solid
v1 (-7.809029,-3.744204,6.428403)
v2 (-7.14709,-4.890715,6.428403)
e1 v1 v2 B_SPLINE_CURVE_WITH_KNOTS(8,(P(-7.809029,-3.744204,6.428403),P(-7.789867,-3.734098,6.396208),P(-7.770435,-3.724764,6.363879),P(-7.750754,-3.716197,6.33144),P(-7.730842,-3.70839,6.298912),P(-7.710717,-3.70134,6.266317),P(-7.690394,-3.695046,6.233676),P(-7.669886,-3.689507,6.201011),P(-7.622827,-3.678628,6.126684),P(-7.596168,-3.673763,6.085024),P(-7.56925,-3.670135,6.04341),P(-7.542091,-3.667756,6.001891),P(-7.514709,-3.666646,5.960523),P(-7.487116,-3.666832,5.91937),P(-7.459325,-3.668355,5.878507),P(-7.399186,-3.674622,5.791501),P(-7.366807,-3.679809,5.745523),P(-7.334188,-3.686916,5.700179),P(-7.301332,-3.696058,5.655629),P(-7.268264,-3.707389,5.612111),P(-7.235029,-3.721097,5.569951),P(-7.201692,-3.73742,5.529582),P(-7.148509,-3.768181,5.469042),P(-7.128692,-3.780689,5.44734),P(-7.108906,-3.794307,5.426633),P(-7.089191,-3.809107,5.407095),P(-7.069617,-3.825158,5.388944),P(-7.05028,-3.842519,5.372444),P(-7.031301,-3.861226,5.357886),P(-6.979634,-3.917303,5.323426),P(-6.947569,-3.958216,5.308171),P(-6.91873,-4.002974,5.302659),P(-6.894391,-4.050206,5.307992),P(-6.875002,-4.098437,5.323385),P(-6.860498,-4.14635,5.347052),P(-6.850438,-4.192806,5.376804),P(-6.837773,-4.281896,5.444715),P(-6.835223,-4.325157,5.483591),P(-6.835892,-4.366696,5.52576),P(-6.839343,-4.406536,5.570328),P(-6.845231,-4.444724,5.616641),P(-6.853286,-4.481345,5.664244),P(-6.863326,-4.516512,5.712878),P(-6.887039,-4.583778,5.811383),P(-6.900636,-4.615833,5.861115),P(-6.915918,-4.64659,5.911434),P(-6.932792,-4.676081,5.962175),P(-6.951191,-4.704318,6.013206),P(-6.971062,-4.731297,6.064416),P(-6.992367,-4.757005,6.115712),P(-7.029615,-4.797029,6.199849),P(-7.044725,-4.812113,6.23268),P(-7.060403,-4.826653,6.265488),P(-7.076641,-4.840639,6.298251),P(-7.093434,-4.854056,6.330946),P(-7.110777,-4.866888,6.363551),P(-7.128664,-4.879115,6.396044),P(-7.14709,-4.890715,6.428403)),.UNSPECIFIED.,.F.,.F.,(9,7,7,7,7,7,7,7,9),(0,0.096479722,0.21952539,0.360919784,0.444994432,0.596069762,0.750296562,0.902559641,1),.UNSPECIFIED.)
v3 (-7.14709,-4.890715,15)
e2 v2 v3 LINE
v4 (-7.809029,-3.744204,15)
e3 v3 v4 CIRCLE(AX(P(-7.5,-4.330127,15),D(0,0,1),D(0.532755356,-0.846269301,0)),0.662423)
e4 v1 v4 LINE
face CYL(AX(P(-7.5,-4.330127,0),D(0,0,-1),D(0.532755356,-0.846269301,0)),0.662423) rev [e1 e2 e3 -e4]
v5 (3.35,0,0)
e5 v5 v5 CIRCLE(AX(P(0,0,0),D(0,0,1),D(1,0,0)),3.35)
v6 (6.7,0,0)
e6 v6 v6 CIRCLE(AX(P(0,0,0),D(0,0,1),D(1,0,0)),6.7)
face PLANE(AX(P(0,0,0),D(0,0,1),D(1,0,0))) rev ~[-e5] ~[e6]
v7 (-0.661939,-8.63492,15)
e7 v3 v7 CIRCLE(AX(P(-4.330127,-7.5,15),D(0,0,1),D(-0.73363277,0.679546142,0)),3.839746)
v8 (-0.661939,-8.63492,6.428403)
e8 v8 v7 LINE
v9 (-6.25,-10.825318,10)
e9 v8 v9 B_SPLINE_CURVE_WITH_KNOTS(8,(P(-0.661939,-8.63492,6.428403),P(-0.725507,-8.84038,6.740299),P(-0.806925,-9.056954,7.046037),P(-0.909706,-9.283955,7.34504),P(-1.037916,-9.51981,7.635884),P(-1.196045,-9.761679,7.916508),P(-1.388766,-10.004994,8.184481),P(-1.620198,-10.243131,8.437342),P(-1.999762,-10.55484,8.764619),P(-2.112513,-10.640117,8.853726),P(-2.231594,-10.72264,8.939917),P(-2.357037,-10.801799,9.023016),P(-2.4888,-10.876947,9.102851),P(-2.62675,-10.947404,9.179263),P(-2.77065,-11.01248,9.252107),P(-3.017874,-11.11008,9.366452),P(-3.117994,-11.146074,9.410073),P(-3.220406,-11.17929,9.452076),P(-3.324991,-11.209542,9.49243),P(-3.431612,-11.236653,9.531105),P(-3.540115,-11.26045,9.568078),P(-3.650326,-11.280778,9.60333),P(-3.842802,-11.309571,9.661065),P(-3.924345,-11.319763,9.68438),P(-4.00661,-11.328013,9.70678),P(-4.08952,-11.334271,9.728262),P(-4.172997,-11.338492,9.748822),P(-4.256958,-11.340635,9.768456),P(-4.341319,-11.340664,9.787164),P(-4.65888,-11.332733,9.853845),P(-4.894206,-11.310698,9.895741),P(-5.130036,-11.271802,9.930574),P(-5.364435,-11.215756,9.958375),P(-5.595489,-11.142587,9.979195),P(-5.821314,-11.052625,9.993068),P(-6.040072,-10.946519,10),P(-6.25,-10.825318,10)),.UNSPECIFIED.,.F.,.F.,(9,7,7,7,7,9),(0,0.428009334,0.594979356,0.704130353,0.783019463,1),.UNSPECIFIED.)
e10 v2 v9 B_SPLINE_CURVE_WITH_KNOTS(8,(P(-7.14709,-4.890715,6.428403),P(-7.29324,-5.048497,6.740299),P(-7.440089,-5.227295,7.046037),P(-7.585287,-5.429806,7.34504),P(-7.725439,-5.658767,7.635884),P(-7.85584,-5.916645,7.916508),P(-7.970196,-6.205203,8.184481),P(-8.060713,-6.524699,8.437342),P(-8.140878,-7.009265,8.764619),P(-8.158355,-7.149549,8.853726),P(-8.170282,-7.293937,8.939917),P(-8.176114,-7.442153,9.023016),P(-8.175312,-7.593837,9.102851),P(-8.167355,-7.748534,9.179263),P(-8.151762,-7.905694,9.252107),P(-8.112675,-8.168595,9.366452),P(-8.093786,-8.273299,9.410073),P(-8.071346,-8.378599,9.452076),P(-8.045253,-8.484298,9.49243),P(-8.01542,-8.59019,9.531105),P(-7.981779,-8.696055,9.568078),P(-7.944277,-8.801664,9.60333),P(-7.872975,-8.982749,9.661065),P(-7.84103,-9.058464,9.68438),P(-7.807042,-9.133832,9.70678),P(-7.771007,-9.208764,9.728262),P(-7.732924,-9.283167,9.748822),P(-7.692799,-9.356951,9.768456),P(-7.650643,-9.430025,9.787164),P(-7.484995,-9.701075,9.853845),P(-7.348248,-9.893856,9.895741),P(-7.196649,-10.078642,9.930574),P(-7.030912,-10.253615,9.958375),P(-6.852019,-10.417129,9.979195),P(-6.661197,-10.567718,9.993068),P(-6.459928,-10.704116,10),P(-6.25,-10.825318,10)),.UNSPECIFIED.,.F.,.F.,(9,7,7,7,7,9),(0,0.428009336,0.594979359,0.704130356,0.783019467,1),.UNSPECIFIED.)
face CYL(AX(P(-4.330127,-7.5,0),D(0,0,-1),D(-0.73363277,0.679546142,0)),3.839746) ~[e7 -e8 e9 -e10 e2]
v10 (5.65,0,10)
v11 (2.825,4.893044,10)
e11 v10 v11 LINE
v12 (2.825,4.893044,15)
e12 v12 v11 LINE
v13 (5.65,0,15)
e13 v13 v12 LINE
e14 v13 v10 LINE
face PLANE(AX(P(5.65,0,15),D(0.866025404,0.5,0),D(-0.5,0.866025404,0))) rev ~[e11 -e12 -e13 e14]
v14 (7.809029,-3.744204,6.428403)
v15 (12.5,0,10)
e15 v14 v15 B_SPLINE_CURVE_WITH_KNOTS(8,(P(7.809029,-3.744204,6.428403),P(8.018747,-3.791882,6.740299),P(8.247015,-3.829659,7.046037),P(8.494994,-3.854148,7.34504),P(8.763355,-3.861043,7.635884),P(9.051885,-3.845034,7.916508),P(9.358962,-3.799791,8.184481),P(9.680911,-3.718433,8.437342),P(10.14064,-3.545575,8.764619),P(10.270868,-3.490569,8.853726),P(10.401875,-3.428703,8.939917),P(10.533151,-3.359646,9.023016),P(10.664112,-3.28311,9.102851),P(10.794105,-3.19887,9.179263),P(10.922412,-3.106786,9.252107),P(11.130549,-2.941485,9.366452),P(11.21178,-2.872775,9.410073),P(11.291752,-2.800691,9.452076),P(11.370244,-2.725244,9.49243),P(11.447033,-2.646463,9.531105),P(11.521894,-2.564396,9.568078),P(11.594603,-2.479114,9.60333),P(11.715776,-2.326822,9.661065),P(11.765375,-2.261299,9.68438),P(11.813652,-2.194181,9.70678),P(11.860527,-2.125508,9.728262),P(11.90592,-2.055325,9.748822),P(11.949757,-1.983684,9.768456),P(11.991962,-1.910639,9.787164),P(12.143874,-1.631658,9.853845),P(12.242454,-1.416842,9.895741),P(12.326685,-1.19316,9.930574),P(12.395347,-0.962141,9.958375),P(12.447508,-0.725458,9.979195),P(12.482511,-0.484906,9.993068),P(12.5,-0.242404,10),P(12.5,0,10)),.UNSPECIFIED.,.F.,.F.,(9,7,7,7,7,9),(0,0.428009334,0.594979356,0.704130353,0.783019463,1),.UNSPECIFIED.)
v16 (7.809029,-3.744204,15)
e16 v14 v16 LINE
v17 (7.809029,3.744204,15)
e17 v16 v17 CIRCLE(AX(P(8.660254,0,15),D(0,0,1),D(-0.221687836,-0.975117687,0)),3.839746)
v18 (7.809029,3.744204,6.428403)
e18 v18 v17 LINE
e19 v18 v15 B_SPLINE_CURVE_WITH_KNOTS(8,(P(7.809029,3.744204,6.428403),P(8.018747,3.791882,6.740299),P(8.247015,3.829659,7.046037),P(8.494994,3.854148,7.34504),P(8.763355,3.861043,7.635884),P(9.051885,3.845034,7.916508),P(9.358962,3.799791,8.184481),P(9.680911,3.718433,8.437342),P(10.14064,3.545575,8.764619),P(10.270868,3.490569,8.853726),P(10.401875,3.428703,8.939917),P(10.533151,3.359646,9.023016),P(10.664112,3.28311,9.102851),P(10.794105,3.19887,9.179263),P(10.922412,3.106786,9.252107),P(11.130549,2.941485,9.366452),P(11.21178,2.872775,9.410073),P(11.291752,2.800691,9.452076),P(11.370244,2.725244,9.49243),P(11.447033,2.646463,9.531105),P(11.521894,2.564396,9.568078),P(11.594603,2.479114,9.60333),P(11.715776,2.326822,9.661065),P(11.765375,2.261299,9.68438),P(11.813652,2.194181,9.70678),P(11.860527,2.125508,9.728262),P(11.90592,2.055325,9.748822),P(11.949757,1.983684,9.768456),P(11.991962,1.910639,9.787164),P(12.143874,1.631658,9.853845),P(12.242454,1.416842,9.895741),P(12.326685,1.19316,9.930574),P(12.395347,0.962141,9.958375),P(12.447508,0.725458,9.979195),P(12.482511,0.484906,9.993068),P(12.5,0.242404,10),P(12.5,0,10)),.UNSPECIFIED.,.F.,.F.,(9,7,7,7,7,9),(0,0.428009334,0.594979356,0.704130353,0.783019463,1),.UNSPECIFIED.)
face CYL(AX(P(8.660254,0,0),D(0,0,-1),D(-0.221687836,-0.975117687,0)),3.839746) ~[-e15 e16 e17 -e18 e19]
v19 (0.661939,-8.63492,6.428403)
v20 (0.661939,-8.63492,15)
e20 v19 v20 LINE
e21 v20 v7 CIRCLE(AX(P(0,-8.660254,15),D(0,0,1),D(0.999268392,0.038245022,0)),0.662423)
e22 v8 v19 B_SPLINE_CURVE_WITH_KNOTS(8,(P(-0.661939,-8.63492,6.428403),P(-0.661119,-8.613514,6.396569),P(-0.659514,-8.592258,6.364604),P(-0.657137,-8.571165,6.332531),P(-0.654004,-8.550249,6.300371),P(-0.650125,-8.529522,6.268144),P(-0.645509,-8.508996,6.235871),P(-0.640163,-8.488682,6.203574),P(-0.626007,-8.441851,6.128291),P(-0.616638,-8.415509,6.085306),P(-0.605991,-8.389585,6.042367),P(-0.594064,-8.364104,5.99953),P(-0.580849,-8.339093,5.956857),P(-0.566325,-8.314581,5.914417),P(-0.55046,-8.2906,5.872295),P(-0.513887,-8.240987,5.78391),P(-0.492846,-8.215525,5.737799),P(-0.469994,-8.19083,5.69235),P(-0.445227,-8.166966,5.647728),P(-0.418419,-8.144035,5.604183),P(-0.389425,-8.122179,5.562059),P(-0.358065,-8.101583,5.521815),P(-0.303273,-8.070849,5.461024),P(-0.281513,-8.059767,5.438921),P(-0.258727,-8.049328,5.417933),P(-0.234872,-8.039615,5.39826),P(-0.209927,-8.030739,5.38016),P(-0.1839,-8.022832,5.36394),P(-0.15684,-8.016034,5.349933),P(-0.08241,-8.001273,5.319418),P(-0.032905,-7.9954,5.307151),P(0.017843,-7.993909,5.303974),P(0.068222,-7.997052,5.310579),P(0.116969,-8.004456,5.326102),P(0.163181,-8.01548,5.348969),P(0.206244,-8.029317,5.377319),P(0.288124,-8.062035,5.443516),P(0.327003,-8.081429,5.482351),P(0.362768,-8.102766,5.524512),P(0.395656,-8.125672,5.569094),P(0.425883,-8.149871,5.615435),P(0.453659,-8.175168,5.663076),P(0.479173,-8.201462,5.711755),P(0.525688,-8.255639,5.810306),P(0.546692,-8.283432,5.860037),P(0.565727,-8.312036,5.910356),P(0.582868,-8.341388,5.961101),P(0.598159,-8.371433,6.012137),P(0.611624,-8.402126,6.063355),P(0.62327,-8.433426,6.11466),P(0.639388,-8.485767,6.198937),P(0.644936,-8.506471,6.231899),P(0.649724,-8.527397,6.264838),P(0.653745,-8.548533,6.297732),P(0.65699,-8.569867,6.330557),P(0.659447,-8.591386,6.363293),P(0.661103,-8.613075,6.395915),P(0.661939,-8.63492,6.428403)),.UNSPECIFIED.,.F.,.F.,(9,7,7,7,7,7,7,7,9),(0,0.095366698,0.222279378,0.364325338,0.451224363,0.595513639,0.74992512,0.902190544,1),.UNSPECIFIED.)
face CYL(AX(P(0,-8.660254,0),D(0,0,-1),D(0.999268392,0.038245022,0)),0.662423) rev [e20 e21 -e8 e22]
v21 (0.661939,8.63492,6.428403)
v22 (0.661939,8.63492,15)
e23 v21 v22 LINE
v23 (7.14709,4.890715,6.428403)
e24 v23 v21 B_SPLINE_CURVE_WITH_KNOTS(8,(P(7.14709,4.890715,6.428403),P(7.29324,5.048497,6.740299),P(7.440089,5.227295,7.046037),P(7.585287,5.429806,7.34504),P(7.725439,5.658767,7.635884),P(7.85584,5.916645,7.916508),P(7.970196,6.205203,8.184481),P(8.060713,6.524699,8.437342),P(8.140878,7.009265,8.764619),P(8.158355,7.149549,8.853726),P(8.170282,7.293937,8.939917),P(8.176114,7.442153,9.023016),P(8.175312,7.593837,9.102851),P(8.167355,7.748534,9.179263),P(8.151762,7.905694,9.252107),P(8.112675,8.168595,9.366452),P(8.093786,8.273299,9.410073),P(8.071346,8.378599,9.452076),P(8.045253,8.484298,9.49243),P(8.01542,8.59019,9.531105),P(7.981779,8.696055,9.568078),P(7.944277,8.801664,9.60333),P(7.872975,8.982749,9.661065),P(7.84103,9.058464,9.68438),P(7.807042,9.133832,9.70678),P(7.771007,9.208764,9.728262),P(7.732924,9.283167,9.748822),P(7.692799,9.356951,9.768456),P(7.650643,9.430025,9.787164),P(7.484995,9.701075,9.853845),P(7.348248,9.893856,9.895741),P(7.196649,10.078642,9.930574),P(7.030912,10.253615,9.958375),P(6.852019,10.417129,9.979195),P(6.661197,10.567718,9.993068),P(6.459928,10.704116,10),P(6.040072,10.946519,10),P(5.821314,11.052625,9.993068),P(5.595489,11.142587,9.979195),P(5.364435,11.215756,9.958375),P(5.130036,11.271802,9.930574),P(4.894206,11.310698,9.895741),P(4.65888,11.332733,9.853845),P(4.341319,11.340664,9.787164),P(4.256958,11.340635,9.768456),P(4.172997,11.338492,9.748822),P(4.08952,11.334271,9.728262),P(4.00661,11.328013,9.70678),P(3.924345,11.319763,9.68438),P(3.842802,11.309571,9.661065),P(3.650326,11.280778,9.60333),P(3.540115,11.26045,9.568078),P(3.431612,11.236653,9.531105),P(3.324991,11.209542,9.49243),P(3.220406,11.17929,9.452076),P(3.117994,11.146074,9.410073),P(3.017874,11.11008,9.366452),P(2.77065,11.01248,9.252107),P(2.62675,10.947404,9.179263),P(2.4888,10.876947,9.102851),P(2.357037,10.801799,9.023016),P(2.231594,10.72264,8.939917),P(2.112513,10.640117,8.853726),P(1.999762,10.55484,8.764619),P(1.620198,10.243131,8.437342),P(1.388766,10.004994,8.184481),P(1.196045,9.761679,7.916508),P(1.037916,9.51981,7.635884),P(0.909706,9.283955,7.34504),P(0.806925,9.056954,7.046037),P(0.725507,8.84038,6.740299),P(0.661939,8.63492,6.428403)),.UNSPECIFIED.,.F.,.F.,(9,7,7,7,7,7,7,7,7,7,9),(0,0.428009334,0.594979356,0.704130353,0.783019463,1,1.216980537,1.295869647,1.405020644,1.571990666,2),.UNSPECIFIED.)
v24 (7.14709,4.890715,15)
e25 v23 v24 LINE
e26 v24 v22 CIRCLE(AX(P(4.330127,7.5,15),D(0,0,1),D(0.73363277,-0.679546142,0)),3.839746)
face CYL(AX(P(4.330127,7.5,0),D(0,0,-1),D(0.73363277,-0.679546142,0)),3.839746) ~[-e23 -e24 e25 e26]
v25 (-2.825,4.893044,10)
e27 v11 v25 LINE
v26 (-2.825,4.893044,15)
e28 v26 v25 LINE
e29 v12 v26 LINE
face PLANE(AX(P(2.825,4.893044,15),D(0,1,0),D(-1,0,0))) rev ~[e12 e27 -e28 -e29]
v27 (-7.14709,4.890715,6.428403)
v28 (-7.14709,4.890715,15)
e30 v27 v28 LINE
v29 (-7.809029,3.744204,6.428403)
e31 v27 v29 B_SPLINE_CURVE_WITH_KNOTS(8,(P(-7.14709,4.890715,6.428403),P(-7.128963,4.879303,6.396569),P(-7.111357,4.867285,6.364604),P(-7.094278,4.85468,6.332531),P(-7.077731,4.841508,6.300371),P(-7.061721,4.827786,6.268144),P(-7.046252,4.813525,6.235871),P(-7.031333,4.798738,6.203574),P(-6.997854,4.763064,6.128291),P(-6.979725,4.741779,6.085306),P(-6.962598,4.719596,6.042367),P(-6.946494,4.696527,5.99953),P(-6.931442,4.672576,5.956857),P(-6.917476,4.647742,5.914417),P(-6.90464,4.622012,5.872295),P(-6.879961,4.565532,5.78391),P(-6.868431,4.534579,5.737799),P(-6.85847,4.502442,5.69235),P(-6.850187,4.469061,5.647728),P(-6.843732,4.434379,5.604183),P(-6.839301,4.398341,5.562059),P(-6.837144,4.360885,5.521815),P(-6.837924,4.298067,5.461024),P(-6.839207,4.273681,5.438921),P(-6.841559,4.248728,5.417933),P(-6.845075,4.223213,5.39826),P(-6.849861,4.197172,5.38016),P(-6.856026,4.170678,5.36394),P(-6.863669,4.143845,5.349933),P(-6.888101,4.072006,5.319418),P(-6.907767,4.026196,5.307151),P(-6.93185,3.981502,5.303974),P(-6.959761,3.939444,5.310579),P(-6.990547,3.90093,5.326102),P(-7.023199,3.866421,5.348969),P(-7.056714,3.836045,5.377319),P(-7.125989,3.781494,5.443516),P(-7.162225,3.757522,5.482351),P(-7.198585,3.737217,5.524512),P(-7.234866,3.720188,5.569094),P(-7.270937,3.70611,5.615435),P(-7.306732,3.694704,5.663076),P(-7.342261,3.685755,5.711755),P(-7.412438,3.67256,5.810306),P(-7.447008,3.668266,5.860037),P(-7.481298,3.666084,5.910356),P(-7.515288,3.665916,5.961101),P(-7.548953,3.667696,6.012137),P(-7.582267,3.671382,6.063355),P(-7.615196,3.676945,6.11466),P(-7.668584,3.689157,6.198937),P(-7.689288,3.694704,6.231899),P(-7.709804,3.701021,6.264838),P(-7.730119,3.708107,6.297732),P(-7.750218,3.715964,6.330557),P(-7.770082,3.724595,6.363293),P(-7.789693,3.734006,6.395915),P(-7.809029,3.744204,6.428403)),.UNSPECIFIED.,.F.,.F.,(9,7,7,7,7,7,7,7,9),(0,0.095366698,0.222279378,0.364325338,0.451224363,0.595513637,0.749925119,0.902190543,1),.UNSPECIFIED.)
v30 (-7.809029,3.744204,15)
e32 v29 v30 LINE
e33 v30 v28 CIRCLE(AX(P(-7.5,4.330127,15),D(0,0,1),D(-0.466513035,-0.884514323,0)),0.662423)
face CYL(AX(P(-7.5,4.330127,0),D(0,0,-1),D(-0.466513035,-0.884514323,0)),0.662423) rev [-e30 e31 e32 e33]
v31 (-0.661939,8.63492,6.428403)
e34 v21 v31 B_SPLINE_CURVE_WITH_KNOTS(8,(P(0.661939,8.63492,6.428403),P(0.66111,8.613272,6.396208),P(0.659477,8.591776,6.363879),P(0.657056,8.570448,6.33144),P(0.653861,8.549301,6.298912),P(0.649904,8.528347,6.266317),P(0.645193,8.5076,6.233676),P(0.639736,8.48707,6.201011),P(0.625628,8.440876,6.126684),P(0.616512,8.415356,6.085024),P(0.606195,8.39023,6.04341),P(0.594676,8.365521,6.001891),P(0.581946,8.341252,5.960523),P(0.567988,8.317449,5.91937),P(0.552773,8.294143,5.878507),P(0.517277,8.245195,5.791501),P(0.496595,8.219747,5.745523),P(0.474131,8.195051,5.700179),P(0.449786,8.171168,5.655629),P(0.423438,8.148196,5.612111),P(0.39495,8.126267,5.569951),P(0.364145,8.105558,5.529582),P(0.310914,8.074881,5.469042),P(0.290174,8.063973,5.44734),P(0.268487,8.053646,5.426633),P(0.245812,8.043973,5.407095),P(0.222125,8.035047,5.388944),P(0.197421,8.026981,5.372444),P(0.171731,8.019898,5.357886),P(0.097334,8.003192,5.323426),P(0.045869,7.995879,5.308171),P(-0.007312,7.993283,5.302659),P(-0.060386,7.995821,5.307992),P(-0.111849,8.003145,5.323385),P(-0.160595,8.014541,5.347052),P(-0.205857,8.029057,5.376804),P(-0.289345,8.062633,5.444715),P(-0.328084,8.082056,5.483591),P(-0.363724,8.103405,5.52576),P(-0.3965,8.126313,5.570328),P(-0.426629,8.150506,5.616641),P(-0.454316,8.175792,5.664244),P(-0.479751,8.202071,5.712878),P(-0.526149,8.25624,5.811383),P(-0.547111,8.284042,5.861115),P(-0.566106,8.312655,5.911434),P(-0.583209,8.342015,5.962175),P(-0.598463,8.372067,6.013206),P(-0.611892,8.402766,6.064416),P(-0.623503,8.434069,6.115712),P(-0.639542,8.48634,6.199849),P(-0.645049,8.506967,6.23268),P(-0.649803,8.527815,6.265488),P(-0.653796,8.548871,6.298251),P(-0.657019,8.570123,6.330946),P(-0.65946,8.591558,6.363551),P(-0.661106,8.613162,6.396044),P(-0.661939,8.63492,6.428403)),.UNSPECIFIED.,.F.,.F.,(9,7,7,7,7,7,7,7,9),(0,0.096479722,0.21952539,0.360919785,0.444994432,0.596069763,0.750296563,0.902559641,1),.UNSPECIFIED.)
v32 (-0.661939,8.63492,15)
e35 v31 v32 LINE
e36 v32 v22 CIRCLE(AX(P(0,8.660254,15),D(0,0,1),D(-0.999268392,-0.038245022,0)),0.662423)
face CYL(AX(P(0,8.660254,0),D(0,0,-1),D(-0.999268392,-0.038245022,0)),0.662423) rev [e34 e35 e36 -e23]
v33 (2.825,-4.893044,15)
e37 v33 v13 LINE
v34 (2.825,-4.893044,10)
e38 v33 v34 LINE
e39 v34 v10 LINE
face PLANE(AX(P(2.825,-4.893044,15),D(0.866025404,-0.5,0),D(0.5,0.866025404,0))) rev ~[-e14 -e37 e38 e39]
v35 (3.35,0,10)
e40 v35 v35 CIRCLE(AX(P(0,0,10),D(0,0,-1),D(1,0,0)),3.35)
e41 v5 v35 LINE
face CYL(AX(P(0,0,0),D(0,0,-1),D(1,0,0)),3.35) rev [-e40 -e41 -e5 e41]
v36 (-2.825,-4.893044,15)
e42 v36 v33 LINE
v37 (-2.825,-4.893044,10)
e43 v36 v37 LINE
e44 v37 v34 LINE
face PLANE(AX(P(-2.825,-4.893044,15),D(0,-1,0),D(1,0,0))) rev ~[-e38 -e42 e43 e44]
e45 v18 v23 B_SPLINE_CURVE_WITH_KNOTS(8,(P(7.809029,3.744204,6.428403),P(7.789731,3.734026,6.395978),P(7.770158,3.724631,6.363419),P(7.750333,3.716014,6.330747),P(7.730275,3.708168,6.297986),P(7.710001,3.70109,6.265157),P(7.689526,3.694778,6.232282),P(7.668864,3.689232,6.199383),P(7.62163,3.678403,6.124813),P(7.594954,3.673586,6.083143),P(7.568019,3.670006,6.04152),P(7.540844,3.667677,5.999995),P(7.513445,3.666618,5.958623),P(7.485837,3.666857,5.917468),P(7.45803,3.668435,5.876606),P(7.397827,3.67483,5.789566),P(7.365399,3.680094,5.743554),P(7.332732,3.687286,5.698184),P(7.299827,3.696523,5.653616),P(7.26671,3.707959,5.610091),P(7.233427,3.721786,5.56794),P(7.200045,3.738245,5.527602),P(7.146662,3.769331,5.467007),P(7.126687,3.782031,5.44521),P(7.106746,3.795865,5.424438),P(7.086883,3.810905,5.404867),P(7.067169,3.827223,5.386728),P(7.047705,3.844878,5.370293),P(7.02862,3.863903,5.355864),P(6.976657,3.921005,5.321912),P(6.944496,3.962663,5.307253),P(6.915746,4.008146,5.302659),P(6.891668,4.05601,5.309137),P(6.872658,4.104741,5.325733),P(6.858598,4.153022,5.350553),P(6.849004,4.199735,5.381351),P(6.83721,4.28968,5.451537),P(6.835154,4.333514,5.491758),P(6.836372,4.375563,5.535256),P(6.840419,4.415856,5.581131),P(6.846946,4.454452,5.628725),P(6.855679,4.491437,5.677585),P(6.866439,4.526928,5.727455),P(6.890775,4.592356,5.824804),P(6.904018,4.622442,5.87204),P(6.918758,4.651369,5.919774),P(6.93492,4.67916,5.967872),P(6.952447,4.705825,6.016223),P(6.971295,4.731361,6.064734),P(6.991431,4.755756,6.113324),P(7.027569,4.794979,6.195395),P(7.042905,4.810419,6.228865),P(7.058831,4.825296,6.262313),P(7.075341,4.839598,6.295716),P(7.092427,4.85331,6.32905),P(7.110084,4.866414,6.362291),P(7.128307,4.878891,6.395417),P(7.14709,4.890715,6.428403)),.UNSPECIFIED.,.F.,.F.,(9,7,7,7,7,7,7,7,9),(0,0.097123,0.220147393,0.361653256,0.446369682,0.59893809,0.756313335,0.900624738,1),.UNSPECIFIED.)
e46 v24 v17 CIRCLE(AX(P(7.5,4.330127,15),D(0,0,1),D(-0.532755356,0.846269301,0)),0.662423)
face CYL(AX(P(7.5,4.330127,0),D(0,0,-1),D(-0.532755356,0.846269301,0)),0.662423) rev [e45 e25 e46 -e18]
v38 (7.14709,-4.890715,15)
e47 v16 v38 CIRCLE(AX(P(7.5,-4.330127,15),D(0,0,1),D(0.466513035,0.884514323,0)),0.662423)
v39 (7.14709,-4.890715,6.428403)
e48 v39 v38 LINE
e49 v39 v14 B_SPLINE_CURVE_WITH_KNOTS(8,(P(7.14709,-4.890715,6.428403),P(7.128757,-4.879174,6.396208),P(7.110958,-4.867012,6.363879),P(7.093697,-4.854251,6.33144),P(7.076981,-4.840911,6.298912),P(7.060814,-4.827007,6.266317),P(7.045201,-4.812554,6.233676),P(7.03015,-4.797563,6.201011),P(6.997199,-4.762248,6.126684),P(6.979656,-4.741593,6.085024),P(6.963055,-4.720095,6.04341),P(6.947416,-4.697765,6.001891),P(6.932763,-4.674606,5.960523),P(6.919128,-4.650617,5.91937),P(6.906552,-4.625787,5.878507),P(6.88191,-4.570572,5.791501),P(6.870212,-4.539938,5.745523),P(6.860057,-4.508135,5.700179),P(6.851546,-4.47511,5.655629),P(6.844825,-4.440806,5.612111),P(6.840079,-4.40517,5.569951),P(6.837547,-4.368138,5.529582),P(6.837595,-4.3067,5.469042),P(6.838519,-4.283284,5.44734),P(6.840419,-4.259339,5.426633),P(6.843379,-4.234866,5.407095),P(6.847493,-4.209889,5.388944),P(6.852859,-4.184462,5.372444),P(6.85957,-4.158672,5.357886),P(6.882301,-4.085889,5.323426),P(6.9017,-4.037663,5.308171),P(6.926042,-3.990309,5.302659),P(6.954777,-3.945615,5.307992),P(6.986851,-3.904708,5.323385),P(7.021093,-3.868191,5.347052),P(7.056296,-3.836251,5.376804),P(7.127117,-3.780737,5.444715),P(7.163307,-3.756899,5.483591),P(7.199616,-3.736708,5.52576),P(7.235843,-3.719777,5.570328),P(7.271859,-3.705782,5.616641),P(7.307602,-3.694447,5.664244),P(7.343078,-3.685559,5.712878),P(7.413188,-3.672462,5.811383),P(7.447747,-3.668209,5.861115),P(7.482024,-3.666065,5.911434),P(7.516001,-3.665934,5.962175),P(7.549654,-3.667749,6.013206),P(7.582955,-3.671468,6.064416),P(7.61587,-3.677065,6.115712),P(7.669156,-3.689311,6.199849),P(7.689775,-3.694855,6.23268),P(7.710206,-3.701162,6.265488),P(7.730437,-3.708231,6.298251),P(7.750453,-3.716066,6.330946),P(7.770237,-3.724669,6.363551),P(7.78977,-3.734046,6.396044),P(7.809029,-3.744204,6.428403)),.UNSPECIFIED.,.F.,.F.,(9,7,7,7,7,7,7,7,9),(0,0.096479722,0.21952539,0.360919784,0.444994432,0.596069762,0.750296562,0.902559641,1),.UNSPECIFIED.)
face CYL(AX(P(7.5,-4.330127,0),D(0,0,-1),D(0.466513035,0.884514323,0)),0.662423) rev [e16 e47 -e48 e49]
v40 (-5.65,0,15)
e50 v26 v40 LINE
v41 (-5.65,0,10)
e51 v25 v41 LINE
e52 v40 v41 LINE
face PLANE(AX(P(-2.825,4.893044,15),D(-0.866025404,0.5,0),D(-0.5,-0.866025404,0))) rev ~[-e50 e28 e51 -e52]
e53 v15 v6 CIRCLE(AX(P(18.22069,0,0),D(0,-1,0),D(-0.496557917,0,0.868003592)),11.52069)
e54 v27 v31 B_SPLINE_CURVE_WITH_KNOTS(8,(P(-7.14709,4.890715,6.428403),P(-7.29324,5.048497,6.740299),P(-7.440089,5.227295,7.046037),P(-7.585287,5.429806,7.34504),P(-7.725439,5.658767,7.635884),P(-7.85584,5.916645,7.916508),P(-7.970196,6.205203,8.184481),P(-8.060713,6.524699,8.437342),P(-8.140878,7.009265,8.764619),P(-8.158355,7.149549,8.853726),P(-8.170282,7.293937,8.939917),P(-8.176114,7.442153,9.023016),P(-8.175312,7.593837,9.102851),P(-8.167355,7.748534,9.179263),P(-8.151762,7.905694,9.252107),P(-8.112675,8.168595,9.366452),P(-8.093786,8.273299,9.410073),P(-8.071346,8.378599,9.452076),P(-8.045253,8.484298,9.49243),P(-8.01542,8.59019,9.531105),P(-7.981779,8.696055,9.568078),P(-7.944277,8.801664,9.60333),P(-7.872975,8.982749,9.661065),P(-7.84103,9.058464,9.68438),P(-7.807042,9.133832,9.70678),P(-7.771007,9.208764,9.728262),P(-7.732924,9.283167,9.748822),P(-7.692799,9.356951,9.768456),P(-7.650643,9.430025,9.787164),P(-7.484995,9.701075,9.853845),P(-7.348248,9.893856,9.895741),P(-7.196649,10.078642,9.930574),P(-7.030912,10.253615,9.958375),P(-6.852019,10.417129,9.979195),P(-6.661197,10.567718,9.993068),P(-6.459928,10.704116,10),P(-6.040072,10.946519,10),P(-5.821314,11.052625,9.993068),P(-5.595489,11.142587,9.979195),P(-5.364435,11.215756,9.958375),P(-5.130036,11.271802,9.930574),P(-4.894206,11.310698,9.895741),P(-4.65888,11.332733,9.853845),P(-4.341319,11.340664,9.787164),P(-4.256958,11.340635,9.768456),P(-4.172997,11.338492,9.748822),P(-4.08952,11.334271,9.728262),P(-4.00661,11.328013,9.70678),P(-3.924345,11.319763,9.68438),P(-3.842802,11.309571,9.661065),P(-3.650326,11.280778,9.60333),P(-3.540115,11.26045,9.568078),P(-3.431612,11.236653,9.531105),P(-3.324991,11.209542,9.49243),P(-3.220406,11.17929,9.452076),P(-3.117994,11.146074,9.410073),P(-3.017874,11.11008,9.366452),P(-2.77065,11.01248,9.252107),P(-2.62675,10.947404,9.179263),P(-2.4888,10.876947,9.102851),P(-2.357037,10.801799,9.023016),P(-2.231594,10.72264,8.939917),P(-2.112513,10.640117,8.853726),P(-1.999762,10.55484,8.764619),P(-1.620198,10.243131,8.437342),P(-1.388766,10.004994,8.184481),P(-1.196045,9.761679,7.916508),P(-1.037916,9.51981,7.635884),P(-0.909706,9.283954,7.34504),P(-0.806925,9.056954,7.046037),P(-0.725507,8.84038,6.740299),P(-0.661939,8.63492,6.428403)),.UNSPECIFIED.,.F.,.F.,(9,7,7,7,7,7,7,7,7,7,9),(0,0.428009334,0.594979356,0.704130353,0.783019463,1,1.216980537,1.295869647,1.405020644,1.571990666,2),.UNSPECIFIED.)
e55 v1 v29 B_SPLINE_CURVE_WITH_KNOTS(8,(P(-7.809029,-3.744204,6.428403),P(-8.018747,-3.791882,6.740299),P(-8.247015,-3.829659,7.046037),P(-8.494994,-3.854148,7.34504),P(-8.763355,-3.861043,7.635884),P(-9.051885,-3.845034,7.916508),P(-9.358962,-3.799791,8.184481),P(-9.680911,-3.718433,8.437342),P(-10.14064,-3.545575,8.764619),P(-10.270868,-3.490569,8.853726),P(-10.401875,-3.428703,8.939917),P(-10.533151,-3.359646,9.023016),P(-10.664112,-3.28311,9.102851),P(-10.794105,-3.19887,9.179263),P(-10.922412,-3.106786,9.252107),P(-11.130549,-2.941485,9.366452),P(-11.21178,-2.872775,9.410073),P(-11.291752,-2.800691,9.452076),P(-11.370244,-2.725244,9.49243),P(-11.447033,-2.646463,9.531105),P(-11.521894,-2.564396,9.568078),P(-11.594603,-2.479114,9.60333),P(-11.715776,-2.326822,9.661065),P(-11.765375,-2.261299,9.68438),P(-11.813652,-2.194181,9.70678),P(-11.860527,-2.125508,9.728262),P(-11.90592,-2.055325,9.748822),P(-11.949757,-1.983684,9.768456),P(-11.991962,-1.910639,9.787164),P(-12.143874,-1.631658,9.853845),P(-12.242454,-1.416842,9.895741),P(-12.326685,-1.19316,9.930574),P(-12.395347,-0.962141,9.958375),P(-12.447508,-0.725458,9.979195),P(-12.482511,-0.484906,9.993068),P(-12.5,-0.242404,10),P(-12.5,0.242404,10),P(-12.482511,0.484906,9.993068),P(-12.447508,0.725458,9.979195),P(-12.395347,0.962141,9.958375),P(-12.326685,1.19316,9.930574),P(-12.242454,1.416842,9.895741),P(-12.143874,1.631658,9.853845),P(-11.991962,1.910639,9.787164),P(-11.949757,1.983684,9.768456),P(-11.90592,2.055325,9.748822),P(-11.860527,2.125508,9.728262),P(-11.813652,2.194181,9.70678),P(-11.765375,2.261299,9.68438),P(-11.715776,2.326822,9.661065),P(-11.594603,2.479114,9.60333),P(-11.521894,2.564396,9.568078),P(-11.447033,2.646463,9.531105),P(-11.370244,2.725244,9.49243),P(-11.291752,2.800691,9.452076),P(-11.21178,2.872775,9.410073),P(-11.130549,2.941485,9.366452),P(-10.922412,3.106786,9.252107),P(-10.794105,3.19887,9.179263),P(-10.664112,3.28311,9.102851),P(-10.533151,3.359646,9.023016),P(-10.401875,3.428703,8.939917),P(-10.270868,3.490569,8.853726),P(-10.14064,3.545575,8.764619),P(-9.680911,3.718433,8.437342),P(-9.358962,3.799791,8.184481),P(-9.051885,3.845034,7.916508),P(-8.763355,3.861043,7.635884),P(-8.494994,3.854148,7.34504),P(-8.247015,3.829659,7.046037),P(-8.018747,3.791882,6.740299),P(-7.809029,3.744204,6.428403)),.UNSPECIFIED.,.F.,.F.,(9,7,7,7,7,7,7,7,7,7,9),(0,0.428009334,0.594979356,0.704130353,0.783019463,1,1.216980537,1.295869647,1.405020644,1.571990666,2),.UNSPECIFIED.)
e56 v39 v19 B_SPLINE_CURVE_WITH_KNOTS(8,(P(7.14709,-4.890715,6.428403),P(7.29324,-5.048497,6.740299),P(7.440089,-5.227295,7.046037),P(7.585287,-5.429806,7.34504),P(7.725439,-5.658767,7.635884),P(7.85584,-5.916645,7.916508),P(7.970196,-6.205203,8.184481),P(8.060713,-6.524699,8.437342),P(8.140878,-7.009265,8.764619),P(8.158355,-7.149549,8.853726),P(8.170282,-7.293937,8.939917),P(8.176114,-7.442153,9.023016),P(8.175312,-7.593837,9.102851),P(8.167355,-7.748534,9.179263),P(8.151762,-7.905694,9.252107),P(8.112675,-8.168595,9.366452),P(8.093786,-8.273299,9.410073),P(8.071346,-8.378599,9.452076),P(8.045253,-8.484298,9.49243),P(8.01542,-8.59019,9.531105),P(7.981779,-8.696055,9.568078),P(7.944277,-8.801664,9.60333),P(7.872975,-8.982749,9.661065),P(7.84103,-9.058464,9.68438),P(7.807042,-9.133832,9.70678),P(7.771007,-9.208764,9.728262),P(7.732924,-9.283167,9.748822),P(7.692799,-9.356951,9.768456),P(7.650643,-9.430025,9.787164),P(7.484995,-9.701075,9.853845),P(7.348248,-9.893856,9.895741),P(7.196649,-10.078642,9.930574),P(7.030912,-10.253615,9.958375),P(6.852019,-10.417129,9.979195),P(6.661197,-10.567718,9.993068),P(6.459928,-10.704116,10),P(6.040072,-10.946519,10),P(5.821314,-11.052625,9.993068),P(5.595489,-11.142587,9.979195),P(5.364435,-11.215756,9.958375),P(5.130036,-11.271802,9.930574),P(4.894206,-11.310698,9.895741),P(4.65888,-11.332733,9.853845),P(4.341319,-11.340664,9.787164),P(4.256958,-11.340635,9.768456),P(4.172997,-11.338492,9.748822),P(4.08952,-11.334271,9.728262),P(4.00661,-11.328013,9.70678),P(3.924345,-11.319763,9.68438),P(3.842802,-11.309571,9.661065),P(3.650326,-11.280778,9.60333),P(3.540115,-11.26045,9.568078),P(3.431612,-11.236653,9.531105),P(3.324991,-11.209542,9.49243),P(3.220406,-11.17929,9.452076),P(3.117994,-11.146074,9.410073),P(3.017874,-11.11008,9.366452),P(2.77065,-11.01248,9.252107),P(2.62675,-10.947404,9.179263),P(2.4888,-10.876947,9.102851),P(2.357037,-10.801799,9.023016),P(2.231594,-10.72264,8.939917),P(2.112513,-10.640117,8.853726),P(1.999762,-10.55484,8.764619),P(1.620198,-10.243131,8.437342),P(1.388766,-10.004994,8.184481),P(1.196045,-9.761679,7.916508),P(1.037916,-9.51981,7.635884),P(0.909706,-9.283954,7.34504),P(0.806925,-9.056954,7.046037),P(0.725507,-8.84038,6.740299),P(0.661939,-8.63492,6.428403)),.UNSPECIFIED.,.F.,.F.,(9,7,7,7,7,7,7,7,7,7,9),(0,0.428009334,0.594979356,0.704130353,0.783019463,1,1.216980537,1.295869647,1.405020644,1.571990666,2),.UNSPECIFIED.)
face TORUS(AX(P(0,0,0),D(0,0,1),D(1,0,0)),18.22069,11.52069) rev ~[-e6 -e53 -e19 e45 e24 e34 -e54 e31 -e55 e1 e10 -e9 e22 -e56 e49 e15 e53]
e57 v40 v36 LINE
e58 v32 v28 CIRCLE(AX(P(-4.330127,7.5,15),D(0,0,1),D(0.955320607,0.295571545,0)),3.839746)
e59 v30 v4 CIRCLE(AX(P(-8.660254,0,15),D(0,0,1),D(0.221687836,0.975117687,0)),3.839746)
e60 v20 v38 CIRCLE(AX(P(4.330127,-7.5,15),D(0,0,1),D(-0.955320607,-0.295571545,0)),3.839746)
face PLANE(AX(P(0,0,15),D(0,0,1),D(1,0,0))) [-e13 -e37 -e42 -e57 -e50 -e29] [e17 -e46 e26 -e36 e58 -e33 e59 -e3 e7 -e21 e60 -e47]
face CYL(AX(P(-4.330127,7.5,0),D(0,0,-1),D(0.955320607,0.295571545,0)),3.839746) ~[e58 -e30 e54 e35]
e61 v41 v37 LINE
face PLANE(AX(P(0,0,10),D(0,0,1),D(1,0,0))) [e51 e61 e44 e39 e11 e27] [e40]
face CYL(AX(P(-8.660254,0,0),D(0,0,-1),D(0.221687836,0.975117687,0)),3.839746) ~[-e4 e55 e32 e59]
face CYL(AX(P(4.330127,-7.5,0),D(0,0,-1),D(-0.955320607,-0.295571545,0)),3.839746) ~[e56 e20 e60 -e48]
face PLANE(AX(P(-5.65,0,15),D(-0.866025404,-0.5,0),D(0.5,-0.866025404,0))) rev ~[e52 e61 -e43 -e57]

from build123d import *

# Parameters (mm, degrees)
SKETCH008_R     = 3.35
PAD004_DEPTH    = 15
POCKET002_DEPTH = 5


with BuildPart() as part:
    # Sketch008 → Pad004 (new body)
    with BuildSketch(Plane.XY):
        with BuildLine():
            ThreePointArc((7.1470904861, 4.890715447), (6.25, 10.8253175473), (0.6619385767, 8.6349196476))
            ThreePointArc((-0.6619385767, 8.6349196476), (0, 7.9978308267), (0.6619385767, 8.6349196476))
            ThreePointArc((-0.6619385767, 8.6349196476), (-6.25, 10.8253175473), (-7.1470904861, 4.890715447))
            ThreePointArc((-7.8090290628, 3.7442042006), (-6.9263246711, 3.9989154133), (-7.1470904861, 4.890715447))
            ThreePointArc((-7.8090290628, 3.7442042006), (-12.5, 0), (-7.8090290628, -3.7442042006))
            ThreePointArc((-7.1470904861, -4.890715447), (-6.9263246711, -3.9989154133), (-7.8090290628, -3.7442042006))
            ThreePointArc((-7.1470904861, -4.890715447), (-6.25, -10.8253175473), (-0.6619385767, -8.6349196476))
            ThreePointArc((0.6619385767, -8.6349196476), (0, -7.9978308267), (-0.6619385767, -8.6349196476))
            ThreePointArc((0.6619385767, -8.6349196476), (6.25, -10.8253175473), (7.1470904861, -4.890715447))
            ThreePointArc((7.8090290628, -3.7442042006), (6.9263246711, -3.9989154133), (7.1470904861, -4.890715447))
            ThreePointArc((7.8090290628, -3.7442042006), (12.5, 0), (7.8090290628, 3.7442042006))
            ThreePointArc((7.1470904861, 4.890715447), (6.9263246711, 3.9989154133), (7.8090290628, 3.7442042006))
        make_face()
        Circle(SKETCH008_R, mode=Mode.SUBTRACT)
    extrude(amount=PAD004_DEPTH)

    # Sketch009 (on Face15 of Pad004) → Pocket002 (cut)
    with BuildSketch(Plane.XY.offset(15)):
        Polygon((2.825, -4.8930435314), (5.65, 0), (2.825, 4.8930435314), (-2.825, 4.8930435314), (-5.65, 0), (-2.825, -4.8930435314), align=None)
    extrude(amount=-POCKET002_DEPTH, mode=Mode.SUBTRACT)

    # Sketch010 → Groove (revolve, cut)
    with BuildSketch(Plane.XZ):
        with BuildLine():
            ThreePointArc((12.5, 10), (8.2549337817, 5.7801384066), (6.7, 0))
            Line((6.7, 0), (13.5, 0))
            Line((13.5, 0), (13.5, 10))
            Line((13.5, 10), (12.5, 10))
        make_face()
    revolve(axis=Axis((0, 0, 0), (0, 0, 1)), mode=Mode.SUBTRACT)


solid = part.part
